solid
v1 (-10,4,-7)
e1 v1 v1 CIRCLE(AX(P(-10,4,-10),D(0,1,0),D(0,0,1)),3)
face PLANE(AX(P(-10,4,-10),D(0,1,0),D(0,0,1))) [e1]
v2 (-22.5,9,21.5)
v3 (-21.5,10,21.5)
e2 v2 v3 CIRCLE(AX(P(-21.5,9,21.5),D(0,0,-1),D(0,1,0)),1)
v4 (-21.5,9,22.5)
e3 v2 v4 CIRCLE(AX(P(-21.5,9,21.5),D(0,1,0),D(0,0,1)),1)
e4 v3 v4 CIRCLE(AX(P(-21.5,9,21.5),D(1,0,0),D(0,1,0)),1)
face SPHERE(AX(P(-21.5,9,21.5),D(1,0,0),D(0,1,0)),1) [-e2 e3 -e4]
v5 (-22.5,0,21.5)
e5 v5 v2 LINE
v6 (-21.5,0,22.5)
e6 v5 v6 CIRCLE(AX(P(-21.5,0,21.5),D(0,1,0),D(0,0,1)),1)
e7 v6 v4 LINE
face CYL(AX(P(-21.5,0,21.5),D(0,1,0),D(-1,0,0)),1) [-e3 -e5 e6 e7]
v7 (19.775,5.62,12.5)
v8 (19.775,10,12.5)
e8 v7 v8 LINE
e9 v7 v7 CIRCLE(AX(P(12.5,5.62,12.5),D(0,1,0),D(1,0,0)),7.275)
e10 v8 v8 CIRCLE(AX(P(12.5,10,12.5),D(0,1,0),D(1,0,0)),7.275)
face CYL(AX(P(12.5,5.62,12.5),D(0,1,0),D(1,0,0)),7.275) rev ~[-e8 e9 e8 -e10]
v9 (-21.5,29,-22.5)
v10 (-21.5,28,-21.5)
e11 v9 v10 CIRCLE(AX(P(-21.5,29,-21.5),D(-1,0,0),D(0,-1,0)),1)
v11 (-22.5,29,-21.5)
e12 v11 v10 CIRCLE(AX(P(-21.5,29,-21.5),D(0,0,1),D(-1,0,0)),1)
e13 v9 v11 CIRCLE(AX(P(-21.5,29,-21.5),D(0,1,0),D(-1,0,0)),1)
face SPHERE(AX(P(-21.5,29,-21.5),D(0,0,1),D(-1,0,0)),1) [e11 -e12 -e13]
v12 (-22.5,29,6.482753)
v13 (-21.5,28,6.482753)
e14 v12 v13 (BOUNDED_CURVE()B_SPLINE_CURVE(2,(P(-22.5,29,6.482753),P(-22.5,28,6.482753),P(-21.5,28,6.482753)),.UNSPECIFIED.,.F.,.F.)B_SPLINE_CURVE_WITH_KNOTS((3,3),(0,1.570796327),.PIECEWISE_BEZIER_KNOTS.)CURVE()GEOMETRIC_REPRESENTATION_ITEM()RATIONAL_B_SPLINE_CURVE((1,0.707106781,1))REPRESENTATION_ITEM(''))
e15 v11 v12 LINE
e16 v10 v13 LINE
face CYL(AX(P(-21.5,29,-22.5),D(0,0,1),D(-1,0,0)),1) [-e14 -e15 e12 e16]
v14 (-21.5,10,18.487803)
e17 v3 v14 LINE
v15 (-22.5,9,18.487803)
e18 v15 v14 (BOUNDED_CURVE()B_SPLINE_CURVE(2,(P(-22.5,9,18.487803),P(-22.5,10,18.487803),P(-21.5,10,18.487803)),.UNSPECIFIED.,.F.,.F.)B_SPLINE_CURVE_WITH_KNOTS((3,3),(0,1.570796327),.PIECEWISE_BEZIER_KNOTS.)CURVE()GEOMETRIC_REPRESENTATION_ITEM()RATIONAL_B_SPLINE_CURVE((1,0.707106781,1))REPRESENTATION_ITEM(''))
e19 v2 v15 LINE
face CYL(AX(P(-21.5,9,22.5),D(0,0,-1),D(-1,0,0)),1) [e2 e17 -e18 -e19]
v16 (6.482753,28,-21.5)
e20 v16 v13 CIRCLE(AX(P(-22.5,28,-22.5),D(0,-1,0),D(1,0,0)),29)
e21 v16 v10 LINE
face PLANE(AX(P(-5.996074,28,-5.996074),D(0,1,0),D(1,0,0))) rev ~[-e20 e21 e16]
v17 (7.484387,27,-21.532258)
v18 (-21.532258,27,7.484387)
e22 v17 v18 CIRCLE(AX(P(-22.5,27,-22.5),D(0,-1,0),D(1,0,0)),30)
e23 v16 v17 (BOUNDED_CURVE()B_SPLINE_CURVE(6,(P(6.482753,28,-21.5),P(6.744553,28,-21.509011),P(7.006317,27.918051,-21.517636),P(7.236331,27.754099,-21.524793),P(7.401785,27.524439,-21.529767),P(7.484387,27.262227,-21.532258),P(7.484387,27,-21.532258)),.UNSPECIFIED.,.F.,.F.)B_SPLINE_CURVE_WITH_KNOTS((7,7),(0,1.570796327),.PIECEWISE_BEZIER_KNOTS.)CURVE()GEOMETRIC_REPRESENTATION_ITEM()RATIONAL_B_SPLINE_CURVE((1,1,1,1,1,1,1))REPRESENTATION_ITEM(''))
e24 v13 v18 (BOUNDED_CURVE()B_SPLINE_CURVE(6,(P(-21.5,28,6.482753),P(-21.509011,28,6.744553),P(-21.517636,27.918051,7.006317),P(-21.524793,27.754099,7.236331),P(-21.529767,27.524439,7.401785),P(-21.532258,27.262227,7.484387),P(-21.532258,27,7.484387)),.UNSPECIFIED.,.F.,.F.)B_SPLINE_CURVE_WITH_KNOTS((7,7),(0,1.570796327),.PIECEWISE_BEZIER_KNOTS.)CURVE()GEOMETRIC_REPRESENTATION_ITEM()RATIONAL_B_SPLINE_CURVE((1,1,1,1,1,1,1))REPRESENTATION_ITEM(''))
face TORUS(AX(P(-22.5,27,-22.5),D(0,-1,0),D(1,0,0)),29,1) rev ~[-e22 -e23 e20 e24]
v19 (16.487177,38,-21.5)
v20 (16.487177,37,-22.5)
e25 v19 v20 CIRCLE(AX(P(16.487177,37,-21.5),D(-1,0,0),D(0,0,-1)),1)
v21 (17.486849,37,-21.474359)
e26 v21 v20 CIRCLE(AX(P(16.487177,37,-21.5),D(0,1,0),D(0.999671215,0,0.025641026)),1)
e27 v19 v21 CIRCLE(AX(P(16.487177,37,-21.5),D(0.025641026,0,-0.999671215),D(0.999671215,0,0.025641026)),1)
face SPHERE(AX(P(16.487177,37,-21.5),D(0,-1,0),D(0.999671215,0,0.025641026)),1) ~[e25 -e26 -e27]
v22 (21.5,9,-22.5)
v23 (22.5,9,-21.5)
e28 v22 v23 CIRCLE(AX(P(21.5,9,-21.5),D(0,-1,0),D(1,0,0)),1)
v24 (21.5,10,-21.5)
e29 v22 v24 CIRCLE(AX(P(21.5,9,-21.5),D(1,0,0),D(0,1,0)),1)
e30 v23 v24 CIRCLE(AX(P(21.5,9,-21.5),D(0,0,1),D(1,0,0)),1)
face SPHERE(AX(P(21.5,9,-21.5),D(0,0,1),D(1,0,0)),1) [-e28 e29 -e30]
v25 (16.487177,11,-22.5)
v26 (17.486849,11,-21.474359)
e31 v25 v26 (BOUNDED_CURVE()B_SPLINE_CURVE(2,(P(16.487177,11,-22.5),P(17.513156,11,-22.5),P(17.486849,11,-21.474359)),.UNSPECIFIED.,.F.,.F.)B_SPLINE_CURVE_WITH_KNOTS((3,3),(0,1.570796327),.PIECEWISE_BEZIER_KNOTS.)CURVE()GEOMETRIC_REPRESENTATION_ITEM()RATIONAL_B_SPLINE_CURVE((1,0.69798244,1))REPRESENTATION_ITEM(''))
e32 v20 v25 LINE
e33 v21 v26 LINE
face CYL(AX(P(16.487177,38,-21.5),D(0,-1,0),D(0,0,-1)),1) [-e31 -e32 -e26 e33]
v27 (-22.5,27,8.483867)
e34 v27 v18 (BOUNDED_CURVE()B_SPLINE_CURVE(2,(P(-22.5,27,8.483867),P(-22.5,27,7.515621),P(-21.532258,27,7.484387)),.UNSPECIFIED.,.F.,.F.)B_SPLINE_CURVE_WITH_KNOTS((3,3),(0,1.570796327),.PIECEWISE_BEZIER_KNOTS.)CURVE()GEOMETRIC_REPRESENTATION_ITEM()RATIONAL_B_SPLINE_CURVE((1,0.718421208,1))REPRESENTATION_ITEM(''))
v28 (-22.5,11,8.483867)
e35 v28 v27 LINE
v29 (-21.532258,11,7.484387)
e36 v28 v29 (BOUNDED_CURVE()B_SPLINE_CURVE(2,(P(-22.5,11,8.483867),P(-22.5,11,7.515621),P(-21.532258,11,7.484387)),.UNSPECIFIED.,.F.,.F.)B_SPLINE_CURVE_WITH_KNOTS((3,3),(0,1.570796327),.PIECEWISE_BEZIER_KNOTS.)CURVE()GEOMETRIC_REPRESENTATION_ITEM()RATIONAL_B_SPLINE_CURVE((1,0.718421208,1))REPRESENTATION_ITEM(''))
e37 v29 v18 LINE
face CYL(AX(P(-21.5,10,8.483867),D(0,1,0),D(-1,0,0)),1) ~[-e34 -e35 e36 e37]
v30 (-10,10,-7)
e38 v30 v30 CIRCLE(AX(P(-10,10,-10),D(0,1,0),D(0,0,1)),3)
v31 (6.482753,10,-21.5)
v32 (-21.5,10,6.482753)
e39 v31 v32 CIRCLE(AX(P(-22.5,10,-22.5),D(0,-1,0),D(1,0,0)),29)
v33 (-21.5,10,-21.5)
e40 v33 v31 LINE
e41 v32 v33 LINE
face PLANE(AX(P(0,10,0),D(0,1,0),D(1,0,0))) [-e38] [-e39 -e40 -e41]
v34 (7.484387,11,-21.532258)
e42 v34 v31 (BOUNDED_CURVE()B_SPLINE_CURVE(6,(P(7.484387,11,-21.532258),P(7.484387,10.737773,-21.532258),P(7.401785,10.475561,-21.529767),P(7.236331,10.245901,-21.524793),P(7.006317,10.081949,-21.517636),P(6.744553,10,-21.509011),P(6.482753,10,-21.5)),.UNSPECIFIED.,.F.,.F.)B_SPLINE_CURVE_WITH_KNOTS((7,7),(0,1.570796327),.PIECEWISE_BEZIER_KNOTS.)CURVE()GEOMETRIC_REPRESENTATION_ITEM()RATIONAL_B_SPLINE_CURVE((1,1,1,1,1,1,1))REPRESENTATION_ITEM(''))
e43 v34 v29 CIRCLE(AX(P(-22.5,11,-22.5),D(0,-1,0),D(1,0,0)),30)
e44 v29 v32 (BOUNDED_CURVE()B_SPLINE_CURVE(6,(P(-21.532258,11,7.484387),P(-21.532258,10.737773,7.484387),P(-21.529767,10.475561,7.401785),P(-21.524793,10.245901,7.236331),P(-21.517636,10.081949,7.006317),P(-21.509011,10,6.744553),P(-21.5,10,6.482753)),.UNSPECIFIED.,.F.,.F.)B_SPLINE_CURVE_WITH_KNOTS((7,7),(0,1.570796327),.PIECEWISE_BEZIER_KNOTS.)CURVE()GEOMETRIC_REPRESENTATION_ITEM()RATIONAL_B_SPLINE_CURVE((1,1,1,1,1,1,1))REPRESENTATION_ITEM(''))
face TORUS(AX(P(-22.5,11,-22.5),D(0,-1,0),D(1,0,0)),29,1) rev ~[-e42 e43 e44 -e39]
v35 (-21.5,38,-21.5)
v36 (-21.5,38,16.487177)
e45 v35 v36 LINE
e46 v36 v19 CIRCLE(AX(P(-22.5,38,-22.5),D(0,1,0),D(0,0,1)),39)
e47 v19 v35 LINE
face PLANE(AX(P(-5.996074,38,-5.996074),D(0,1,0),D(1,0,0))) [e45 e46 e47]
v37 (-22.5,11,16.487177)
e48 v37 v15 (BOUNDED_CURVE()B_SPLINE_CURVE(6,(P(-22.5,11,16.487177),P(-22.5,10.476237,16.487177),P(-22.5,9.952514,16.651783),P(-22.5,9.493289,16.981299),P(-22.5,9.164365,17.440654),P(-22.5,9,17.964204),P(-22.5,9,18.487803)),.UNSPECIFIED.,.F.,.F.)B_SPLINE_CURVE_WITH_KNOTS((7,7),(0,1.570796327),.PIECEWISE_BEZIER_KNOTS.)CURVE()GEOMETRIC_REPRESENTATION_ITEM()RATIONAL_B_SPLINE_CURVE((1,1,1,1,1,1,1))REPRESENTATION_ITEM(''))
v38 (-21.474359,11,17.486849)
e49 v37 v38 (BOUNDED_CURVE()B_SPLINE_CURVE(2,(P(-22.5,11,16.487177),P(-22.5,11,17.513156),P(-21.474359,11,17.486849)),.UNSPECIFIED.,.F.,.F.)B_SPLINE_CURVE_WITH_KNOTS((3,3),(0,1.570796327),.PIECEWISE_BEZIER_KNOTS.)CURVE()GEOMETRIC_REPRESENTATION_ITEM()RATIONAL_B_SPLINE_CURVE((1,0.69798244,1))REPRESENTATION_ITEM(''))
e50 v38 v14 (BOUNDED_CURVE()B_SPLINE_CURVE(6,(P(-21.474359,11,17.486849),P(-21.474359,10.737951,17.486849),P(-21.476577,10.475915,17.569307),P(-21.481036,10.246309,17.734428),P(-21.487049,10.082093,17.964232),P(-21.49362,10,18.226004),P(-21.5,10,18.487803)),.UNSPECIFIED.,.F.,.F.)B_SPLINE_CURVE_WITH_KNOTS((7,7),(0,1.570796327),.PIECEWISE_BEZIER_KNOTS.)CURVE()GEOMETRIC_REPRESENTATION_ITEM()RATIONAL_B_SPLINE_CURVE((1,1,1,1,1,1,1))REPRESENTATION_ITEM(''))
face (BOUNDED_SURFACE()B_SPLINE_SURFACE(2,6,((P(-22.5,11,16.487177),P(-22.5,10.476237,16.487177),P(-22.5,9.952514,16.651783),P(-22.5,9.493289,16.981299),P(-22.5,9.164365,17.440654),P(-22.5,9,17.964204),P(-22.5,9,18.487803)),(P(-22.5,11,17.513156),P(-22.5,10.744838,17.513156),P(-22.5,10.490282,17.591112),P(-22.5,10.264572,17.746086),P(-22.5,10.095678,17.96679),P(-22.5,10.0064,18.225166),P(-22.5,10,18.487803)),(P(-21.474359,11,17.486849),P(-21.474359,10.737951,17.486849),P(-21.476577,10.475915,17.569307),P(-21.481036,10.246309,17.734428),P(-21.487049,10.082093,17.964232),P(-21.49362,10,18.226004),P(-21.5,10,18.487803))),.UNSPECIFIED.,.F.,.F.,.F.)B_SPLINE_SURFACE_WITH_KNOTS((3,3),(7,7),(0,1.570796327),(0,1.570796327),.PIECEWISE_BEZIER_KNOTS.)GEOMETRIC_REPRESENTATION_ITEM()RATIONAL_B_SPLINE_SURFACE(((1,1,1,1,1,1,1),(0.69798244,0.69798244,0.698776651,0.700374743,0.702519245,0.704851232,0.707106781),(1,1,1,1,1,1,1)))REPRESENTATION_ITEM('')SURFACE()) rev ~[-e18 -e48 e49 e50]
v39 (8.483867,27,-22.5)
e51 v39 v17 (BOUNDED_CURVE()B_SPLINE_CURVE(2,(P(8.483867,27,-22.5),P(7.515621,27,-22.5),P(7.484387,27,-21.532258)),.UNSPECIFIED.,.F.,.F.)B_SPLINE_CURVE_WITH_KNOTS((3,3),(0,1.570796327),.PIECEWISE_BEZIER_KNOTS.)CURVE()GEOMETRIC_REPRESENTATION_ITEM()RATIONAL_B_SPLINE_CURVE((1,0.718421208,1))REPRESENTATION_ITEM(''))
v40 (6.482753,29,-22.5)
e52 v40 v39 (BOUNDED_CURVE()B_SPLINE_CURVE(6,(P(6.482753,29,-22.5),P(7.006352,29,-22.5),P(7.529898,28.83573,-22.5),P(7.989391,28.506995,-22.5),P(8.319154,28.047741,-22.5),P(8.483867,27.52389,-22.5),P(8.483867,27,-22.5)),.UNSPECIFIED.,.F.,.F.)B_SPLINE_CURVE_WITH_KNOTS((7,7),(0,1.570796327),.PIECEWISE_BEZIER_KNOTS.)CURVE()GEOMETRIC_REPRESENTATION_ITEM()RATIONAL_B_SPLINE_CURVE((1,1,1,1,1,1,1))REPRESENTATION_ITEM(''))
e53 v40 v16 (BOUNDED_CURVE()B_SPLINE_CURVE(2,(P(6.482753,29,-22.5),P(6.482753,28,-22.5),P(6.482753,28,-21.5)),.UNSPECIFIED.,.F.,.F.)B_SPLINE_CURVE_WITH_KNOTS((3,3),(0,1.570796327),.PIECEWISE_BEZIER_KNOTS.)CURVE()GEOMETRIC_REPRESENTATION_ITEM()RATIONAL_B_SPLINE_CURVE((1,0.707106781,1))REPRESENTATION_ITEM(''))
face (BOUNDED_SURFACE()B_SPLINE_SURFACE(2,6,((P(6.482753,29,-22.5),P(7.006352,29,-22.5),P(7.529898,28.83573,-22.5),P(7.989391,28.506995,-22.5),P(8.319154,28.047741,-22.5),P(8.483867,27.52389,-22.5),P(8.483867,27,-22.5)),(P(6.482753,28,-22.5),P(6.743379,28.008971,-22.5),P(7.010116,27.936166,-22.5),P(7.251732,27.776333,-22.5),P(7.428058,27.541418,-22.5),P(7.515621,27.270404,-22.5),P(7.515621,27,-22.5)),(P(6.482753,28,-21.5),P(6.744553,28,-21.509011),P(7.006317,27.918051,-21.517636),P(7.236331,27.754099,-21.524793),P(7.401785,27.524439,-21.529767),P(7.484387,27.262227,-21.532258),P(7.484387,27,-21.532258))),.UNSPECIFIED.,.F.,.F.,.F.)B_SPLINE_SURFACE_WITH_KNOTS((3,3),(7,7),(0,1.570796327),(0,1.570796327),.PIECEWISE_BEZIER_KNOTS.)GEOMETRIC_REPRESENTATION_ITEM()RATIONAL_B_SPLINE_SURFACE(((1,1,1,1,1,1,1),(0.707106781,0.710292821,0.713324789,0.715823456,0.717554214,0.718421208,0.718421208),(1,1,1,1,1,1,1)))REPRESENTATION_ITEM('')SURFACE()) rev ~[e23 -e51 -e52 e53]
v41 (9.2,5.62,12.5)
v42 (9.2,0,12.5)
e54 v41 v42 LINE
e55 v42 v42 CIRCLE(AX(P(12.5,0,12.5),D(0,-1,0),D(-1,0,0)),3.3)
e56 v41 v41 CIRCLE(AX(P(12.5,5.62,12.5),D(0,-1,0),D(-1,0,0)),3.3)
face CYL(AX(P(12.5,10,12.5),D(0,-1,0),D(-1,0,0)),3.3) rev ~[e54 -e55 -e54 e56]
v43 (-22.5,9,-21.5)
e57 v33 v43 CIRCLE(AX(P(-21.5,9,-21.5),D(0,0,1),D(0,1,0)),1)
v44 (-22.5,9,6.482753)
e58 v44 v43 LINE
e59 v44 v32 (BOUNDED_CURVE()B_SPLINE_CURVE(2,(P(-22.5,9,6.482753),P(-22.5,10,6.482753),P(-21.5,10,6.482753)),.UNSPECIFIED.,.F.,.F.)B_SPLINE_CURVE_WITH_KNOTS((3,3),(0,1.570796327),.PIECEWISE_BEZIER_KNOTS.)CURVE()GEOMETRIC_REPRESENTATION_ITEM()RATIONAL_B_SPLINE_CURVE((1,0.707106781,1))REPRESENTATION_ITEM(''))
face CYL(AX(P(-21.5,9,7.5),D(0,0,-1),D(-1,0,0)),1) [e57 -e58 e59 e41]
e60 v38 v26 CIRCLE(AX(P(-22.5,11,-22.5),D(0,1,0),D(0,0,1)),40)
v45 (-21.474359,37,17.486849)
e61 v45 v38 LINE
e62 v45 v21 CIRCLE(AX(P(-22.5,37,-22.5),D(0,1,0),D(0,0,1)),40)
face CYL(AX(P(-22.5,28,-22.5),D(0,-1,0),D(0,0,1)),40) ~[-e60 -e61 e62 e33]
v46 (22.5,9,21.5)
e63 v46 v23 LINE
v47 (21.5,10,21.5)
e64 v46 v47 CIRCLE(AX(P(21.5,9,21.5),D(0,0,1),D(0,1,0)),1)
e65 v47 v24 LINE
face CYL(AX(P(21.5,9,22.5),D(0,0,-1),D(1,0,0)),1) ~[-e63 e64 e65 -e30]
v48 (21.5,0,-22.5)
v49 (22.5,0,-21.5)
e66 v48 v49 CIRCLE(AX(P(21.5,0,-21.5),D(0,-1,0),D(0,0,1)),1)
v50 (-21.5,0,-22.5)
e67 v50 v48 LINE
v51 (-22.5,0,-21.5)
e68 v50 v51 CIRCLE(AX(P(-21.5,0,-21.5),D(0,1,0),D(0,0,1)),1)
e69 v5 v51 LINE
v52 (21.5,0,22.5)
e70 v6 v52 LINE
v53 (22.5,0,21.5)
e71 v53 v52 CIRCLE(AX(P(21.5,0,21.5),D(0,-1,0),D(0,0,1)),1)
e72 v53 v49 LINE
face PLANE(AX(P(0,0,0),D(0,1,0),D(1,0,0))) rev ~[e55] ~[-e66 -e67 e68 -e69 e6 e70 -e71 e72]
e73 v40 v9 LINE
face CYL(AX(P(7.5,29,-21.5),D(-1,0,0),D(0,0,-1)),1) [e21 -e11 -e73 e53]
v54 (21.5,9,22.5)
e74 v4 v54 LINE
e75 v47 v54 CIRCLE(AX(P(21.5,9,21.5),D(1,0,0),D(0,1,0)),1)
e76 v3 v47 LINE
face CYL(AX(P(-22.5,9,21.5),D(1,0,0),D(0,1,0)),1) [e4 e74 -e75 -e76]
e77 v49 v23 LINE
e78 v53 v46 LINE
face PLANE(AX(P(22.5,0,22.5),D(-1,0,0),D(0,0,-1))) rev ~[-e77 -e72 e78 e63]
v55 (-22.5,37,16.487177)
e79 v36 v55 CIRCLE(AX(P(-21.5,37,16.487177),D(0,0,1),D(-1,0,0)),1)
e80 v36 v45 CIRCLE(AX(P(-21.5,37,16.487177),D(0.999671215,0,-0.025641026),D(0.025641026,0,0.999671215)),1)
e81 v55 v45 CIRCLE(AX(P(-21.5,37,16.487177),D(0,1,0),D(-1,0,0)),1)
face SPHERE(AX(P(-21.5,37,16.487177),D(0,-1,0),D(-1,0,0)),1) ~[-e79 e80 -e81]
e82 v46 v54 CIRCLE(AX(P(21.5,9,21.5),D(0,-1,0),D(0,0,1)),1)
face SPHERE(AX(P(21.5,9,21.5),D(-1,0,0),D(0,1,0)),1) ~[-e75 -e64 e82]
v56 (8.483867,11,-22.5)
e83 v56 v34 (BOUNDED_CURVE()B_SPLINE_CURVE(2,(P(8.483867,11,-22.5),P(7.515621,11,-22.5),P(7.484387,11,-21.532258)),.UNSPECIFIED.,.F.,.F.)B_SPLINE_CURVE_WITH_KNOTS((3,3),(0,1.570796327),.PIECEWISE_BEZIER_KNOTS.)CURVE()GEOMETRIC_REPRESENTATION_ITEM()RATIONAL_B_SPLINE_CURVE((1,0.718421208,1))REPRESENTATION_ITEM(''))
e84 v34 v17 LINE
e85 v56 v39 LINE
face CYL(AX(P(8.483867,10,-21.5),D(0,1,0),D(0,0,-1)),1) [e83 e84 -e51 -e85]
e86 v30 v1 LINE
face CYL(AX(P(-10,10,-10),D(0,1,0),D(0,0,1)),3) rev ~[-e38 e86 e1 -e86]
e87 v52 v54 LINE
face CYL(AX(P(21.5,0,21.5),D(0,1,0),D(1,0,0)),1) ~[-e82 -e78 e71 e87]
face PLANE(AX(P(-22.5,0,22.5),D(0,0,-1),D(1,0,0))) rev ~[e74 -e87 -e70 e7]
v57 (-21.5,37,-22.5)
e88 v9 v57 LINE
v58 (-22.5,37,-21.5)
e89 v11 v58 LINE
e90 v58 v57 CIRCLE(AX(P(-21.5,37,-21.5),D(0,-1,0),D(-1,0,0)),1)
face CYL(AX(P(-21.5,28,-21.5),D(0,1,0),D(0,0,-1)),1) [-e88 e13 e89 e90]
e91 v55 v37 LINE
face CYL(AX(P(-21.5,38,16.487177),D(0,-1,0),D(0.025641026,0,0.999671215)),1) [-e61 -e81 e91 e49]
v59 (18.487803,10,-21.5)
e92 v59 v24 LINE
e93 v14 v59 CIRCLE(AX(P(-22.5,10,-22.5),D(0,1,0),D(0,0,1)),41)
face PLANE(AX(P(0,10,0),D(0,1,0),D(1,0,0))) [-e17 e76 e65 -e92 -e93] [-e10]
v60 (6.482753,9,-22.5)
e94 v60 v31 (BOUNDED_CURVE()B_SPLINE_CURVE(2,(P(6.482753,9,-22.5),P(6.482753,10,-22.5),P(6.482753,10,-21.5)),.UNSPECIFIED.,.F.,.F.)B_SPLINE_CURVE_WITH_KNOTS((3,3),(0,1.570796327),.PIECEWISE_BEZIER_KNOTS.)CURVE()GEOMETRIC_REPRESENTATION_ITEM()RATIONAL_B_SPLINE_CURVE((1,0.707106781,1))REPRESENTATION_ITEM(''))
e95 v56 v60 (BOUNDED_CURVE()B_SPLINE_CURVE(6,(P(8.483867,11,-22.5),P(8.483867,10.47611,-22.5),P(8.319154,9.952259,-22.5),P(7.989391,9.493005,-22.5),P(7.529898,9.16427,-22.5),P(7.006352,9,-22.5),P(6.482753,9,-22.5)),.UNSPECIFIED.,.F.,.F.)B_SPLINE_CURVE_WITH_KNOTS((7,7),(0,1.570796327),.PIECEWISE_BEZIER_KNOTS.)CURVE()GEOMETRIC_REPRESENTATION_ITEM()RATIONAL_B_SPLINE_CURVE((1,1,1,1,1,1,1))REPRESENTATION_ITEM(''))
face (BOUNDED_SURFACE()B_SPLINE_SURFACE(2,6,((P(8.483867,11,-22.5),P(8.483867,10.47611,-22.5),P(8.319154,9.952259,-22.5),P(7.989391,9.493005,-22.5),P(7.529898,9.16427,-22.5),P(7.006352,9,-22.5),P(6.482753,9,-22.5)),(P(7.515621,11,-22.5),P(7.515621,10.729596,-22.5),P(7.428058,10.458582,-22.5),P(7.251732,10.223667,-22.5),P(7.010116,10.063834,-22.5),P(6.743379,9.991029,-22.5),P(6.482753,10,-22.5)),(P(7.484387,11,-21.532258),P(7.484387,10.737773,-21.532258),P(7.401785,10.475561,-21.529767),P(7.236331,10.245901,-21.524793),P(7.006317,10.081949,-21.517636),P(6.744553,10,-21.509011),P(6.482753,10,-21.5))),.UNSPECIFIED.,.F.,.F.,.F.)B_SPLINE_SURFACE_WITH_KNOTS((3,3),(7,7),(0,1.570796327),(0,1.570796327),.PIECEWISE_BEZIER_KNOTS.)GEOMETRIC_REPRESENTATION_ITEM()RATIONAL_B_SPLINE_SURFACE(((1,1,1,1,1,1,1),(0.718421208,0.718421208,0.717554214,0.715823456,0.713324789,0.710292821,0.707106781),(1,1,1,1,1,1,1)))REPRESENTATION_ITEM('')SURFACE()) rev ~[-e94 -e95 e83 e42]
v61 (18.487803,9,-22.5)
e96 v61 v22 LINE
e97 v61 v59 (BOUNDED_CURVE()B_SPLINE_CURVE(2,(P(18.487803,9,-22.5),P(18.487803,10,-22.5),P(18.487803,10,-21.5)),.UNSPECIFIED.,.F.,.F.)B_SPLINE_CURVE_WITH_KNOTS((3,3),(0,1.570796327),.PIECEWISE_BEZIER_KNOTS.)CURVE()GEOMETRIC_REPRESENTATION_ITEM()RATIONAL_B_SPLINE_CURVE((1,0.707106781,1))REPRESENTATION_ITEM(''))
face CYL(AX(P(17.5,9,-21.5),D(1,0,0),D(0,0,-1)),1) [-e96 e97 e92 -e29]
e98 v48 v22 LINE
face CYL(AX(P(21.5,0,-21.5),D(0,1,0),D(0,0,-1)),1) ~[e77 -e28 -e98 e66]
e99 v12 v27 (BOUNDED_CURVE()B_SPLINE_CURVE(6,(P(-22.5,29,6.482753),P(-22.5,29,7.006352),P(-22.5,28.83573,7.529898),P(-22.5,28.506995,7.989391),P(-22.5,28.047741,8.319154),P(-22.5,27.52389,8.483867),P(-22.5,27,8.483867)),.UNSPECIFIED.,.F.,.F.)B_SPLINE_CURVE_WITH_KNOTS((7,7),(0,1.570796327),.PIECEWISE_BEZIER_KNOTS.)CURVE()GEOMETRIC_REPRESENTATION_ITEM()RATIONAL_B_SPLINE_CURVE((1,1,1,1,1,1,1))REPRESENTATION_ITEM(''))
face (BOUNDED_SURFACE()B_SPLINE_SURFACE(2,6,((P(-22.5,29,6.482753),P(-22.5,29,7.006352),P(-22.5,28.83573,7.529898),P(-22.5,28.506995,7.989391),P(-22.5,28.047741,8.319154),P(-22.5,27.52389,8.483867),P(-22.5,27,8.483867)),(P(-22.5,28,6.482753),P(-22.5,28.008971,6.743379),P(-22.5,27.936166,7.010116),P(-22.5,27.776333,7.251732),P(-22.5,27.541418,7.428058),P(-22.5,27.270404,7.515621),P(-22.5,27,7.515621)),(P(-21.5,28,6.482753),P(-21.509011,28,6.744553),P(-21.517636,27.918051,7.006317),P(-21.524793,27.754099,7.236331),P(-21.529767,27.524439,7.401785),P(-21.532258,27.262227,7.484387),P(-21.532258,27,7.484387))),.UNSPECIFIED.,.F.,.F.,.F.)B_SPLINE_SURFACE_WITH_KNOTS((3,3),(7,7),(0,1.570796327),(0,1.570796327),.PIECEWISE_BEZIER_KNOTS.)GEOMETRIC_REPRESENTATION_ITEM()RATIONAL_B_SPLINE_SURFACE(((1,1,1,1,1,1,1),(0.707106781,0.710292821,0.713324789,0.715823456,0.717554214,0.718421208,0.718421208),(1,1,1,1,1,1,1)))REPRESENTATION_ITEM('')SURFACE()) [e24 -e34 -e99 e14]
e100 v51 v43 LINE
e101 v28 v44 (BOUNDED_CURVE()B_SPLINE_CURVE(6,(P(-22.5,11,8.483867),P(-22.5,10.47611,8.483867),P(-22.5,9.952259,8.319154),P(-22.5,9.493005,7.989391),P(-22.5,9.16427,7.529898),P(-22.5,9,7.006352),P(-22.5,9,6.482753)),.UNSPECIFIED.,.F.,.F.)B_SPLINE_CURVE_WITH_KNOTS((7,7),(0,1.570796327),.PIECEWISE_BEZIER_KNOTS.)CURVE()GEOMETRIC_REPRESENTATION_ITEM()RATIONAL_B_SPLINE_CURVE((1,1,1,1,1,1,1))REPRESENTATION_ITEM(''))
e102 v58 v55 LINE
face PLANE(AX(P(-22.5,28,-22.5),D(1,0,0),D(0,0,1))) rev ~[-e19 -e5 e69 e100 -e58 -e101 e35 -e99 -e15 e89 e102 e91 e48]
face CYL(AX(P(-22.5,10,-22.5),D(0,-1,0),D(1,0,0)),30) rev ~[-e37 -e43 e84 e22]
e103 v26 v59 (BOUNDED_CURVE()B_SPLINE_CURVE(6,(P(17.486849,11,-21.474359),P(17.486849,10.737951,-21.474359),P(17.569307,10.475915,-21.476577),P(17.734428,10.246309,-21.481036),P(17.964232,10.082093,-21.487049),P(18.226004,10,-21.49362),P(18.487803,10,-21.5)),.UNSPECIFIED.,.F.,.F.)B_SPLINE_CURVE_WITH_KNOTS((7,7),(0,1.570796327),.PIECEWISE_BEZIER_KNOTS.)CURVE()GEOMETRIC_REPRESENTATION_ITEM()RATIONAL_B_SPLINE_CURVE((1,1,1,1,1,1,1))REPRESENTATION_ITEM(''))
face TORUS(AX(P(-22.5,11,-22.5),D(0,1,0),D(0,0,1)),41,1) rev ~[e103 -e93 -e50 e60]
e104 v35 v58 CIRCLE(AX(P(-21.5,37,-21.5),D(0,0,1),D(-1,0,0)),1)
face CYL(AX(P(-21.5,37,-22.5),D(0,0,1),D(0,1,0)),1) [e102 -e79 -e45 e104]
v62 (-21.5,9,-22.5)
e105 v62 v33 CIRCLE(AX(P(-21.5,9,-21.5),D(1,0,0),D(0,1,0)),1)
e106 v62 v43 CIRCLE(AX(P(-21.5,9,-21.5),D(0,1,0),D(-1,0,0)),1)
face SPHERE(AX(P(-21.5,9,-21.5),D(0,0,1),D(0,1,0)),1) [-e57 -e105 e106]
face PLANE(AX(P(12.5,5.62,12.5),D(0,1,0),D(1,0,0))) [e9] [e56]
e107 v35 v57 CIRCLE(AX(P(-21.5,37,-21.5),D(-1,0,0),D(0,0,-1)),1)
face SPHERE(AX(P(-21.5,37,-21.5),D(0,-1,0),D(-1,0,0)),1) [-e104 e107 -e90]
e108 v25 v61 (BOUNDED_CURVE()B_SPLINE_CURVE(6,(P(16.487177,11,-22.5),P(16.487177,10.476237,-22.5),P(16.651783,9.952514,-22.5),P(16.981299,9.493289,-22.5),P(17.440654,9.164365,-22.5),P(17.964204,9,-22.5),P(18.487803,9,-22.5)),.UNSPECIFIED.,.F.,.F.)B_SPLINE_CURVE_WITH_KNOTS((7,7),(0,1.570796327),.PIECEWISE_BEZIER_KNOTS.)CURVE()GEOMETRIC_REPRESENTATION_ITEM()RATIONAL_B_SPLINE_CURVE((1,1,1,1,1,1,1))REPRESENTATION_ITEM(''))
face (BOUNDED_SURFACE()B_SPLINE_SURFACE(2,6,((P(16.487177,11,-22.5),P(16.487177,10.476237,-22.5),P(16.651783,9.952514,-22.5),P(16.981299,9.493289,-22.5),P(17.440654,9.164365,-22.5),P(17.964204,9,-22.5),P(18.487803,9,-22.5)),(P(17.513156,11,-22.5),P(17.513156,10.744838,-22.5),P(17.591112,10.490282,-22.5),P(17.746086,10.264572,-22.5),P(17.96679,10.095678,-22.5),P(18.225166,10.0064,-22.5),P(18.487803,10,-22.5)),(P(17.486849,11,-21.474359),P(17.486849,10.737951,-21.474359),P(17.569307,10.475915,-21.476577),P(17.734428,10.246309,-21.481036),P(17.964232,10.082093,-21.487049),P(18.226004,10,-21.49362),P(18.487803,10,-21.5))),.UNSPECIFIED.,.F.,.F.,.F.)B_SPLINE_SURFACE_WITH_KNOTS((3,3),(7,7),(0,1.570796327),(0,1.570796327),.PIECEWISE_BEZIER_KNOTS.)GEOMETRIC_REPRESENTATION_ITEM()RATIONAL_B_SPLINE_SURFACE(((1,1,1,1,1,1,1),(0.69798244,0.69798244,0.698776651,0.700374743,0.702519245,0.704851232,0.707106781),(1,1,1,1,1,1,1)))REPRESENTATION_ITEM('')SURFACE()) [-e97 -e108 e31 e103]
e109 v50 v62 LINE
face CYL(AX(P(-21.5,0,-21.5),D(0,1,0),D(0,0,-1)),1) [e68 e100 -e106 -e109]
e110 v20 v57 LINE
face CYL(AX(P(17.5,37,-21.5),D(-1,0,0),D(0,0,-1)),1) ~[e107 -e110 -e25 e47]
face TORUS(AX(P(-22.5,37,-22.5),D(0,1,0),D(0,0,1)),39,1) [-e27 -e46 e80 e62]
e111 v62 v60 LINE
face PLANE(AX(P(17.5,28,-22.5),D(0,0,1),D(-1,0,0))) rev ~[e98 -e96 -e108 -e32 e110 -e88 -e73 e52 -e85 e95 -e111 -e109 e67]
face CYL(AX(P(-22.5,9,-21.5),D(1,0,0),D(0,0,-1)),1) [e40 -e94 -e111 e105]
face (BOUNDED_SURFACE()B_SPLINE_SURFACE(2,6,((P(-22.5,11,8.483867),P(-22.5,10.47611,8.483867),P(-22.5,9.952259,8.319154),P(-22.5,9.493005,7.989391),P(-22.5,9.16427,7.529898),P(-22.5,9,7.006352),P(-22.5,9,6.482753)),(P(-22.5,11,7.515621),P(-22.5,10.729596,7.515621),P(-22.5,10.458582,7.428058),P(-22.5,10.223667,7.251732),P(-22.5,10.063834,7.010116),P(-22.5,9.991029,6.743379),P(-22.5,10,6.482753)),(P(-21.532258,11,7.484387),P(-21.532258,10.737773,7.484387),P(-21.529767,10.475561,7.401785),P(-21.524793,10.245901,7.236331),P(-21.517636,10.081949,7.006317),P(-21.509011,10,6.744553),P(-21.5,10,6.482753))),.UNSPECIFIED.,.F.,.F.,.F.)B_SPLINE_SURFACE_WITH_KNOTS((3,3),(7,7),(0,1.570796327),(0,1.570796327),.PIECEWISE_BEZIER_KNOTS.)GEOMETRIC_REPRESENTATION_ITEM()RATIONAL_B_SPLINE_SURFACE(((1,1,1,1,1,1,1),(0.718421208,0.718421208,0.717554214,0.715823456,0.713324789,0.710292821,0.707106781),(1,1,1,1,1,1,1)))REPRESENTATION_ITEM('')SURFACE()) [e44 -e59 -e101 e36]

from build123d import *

# Parameters (mm, degrees)
SKETCH3_W                               = 45
SKETCH3_H                               = 45
BOSS_EXTRUDE1_DEPTH                     = 10
CBORE_FOR_M6_HEX_HEAD_BOLT1_D           = 6.6
CBORE_FOR_M6_HEX_HEAD_BOLT1_CBORE_D     = 14.55
CBORE_FOR_M6_HEX_HEAD_BOLT1_CBORE_DEPTH = 4.38
BOSS_EXTRUDE3_DEPTH                     = 18
BOSS_EXTRUDE4_DEPTH                     = 10
SKETCH10_R                              = 3
CUT_EXTRUDE2_DEPTH                      = 6
FILLET2_R                               = 1


with BuildPart() as part:
    # Sketch3 → Boss-Extrude1 (new body)
    with BuildSketch(Plane(origin=(0, 0, 0), x_dir=(1, 0, 0), z_dir=(0, 1, 0))):
        Rectangle(SKETCH3_W, SKETCH3_H)
    extrude(amount=BOSS_EXTRUDE1_DEPTH)

    # CBORE for M6 Hex Head Bolt1 (through all)
    with Locations(Plane(origin=(0, 10, 0), x_dir=(1, 0, 0), z_dir=(0, 1, 0))):
        with Locations((12.5, -12.5)):
            CounterBoreHole(CBORE_FOR_M6_HEX_HEAD_BOLT1_D / 2, CBORE_FOR_M6_HEX_HEAD_BOLT1_CBORE_D / 2, CBORE_FOR_M6_HEX_HEAD_BOLT1_CBORE_DEPTH)

    # Sketch8 → Boss-Extrude3 (add)
    with BuildSketch(Plane(origin=(0, 10, 0), x_dir=(1, 0, 0), z_dir=(0, 1, 0))):
        with BuildLine():
            Line((17.5, 22.5), (7.5, 22.5))
            ThreePointArc((7.5, 22.5), (-1.286796564, 1.286796564), (-22.5, -7.5))
            Line((-22.5, -7.5), (-22.5, -17.5))
            ThreePointArc((-22.5, -17.5), (5.784271247, -5.784271247), (17.5, 22.5))
        make_face()
    extrude(amount=BOSS_EXTRUDE3_DEPTH)

    # Sketch9 → Boss-Extrude4 (add)
    with BuildSketch(Plane(origin=(0, 28, 0), x_dir=(1, 0, 0), z_dir=(0, 1, 0))):
        with BuildLine():
            Line((17.5, 22.5), (-22.5, 22.5))
            Line((-22.5, 22.5), (-22.5, -17.5))
            ThreePointArc((-22.5, -17.5), (5.784271247, -5.784271247), (17.5, 22.5))
        make_face()
    extrude(amount=BOSS_EXTRUDE4_DEPTH)

    # Sketch10 → Cut-Extrude2 (cut)
    with BuildSketch(Plane(origin=(0, 10, 0), x_dir=(1, 0, 0), z_dir=(0, 1, 0))):
        with Locations(Location((-10, 10, 0), (0, 0, 270))):
            Circle(SKETCH10_R)
    extrude(amount=-CUT_EXTRUDE2_DEPTH, mode=Mode.SUBTRACT)

    # Fillet2
    fillet2_edges = [part.edges().sort_by_distance(p)[0] for p in [
        (-22.5, 10, -7.5),
        (0, 10, 22.5),
        (-7.5, 10, -22.5),
        (-22.5, 10, 20),
        (5.784271247, 10, 5.784271247),
        (-22.5, 24, 17.5),
        (17.5, 24, -22.5),
        (-1.286796564, 10, -1.286796564),
        (7.5, 19, -22.5),
        (-22.5, 19, 7.5),
        (-1.286796564, 28, -1.286796564),
        (-22.5, 28, -7.5),
        (-22.5, 33, -22.5),
        (-7.5, 28, -22.5),
        (-22.5, 38, -2.5),
        (5.784271247, 38, 5.784271247),
        (-2.5, 38, -22.5),
        (22.5, 10, 0),
        (22.5, 5, 22.5),
        (-22.5, 5, 22.5),
        (-22.5, 5, -22.5),
        (22.5, 5, -22.5),
        (20, 10, -22.5),
    ]]
    fillet(fillet2_edges, radius=FILLET2_R)


solid = part.part
